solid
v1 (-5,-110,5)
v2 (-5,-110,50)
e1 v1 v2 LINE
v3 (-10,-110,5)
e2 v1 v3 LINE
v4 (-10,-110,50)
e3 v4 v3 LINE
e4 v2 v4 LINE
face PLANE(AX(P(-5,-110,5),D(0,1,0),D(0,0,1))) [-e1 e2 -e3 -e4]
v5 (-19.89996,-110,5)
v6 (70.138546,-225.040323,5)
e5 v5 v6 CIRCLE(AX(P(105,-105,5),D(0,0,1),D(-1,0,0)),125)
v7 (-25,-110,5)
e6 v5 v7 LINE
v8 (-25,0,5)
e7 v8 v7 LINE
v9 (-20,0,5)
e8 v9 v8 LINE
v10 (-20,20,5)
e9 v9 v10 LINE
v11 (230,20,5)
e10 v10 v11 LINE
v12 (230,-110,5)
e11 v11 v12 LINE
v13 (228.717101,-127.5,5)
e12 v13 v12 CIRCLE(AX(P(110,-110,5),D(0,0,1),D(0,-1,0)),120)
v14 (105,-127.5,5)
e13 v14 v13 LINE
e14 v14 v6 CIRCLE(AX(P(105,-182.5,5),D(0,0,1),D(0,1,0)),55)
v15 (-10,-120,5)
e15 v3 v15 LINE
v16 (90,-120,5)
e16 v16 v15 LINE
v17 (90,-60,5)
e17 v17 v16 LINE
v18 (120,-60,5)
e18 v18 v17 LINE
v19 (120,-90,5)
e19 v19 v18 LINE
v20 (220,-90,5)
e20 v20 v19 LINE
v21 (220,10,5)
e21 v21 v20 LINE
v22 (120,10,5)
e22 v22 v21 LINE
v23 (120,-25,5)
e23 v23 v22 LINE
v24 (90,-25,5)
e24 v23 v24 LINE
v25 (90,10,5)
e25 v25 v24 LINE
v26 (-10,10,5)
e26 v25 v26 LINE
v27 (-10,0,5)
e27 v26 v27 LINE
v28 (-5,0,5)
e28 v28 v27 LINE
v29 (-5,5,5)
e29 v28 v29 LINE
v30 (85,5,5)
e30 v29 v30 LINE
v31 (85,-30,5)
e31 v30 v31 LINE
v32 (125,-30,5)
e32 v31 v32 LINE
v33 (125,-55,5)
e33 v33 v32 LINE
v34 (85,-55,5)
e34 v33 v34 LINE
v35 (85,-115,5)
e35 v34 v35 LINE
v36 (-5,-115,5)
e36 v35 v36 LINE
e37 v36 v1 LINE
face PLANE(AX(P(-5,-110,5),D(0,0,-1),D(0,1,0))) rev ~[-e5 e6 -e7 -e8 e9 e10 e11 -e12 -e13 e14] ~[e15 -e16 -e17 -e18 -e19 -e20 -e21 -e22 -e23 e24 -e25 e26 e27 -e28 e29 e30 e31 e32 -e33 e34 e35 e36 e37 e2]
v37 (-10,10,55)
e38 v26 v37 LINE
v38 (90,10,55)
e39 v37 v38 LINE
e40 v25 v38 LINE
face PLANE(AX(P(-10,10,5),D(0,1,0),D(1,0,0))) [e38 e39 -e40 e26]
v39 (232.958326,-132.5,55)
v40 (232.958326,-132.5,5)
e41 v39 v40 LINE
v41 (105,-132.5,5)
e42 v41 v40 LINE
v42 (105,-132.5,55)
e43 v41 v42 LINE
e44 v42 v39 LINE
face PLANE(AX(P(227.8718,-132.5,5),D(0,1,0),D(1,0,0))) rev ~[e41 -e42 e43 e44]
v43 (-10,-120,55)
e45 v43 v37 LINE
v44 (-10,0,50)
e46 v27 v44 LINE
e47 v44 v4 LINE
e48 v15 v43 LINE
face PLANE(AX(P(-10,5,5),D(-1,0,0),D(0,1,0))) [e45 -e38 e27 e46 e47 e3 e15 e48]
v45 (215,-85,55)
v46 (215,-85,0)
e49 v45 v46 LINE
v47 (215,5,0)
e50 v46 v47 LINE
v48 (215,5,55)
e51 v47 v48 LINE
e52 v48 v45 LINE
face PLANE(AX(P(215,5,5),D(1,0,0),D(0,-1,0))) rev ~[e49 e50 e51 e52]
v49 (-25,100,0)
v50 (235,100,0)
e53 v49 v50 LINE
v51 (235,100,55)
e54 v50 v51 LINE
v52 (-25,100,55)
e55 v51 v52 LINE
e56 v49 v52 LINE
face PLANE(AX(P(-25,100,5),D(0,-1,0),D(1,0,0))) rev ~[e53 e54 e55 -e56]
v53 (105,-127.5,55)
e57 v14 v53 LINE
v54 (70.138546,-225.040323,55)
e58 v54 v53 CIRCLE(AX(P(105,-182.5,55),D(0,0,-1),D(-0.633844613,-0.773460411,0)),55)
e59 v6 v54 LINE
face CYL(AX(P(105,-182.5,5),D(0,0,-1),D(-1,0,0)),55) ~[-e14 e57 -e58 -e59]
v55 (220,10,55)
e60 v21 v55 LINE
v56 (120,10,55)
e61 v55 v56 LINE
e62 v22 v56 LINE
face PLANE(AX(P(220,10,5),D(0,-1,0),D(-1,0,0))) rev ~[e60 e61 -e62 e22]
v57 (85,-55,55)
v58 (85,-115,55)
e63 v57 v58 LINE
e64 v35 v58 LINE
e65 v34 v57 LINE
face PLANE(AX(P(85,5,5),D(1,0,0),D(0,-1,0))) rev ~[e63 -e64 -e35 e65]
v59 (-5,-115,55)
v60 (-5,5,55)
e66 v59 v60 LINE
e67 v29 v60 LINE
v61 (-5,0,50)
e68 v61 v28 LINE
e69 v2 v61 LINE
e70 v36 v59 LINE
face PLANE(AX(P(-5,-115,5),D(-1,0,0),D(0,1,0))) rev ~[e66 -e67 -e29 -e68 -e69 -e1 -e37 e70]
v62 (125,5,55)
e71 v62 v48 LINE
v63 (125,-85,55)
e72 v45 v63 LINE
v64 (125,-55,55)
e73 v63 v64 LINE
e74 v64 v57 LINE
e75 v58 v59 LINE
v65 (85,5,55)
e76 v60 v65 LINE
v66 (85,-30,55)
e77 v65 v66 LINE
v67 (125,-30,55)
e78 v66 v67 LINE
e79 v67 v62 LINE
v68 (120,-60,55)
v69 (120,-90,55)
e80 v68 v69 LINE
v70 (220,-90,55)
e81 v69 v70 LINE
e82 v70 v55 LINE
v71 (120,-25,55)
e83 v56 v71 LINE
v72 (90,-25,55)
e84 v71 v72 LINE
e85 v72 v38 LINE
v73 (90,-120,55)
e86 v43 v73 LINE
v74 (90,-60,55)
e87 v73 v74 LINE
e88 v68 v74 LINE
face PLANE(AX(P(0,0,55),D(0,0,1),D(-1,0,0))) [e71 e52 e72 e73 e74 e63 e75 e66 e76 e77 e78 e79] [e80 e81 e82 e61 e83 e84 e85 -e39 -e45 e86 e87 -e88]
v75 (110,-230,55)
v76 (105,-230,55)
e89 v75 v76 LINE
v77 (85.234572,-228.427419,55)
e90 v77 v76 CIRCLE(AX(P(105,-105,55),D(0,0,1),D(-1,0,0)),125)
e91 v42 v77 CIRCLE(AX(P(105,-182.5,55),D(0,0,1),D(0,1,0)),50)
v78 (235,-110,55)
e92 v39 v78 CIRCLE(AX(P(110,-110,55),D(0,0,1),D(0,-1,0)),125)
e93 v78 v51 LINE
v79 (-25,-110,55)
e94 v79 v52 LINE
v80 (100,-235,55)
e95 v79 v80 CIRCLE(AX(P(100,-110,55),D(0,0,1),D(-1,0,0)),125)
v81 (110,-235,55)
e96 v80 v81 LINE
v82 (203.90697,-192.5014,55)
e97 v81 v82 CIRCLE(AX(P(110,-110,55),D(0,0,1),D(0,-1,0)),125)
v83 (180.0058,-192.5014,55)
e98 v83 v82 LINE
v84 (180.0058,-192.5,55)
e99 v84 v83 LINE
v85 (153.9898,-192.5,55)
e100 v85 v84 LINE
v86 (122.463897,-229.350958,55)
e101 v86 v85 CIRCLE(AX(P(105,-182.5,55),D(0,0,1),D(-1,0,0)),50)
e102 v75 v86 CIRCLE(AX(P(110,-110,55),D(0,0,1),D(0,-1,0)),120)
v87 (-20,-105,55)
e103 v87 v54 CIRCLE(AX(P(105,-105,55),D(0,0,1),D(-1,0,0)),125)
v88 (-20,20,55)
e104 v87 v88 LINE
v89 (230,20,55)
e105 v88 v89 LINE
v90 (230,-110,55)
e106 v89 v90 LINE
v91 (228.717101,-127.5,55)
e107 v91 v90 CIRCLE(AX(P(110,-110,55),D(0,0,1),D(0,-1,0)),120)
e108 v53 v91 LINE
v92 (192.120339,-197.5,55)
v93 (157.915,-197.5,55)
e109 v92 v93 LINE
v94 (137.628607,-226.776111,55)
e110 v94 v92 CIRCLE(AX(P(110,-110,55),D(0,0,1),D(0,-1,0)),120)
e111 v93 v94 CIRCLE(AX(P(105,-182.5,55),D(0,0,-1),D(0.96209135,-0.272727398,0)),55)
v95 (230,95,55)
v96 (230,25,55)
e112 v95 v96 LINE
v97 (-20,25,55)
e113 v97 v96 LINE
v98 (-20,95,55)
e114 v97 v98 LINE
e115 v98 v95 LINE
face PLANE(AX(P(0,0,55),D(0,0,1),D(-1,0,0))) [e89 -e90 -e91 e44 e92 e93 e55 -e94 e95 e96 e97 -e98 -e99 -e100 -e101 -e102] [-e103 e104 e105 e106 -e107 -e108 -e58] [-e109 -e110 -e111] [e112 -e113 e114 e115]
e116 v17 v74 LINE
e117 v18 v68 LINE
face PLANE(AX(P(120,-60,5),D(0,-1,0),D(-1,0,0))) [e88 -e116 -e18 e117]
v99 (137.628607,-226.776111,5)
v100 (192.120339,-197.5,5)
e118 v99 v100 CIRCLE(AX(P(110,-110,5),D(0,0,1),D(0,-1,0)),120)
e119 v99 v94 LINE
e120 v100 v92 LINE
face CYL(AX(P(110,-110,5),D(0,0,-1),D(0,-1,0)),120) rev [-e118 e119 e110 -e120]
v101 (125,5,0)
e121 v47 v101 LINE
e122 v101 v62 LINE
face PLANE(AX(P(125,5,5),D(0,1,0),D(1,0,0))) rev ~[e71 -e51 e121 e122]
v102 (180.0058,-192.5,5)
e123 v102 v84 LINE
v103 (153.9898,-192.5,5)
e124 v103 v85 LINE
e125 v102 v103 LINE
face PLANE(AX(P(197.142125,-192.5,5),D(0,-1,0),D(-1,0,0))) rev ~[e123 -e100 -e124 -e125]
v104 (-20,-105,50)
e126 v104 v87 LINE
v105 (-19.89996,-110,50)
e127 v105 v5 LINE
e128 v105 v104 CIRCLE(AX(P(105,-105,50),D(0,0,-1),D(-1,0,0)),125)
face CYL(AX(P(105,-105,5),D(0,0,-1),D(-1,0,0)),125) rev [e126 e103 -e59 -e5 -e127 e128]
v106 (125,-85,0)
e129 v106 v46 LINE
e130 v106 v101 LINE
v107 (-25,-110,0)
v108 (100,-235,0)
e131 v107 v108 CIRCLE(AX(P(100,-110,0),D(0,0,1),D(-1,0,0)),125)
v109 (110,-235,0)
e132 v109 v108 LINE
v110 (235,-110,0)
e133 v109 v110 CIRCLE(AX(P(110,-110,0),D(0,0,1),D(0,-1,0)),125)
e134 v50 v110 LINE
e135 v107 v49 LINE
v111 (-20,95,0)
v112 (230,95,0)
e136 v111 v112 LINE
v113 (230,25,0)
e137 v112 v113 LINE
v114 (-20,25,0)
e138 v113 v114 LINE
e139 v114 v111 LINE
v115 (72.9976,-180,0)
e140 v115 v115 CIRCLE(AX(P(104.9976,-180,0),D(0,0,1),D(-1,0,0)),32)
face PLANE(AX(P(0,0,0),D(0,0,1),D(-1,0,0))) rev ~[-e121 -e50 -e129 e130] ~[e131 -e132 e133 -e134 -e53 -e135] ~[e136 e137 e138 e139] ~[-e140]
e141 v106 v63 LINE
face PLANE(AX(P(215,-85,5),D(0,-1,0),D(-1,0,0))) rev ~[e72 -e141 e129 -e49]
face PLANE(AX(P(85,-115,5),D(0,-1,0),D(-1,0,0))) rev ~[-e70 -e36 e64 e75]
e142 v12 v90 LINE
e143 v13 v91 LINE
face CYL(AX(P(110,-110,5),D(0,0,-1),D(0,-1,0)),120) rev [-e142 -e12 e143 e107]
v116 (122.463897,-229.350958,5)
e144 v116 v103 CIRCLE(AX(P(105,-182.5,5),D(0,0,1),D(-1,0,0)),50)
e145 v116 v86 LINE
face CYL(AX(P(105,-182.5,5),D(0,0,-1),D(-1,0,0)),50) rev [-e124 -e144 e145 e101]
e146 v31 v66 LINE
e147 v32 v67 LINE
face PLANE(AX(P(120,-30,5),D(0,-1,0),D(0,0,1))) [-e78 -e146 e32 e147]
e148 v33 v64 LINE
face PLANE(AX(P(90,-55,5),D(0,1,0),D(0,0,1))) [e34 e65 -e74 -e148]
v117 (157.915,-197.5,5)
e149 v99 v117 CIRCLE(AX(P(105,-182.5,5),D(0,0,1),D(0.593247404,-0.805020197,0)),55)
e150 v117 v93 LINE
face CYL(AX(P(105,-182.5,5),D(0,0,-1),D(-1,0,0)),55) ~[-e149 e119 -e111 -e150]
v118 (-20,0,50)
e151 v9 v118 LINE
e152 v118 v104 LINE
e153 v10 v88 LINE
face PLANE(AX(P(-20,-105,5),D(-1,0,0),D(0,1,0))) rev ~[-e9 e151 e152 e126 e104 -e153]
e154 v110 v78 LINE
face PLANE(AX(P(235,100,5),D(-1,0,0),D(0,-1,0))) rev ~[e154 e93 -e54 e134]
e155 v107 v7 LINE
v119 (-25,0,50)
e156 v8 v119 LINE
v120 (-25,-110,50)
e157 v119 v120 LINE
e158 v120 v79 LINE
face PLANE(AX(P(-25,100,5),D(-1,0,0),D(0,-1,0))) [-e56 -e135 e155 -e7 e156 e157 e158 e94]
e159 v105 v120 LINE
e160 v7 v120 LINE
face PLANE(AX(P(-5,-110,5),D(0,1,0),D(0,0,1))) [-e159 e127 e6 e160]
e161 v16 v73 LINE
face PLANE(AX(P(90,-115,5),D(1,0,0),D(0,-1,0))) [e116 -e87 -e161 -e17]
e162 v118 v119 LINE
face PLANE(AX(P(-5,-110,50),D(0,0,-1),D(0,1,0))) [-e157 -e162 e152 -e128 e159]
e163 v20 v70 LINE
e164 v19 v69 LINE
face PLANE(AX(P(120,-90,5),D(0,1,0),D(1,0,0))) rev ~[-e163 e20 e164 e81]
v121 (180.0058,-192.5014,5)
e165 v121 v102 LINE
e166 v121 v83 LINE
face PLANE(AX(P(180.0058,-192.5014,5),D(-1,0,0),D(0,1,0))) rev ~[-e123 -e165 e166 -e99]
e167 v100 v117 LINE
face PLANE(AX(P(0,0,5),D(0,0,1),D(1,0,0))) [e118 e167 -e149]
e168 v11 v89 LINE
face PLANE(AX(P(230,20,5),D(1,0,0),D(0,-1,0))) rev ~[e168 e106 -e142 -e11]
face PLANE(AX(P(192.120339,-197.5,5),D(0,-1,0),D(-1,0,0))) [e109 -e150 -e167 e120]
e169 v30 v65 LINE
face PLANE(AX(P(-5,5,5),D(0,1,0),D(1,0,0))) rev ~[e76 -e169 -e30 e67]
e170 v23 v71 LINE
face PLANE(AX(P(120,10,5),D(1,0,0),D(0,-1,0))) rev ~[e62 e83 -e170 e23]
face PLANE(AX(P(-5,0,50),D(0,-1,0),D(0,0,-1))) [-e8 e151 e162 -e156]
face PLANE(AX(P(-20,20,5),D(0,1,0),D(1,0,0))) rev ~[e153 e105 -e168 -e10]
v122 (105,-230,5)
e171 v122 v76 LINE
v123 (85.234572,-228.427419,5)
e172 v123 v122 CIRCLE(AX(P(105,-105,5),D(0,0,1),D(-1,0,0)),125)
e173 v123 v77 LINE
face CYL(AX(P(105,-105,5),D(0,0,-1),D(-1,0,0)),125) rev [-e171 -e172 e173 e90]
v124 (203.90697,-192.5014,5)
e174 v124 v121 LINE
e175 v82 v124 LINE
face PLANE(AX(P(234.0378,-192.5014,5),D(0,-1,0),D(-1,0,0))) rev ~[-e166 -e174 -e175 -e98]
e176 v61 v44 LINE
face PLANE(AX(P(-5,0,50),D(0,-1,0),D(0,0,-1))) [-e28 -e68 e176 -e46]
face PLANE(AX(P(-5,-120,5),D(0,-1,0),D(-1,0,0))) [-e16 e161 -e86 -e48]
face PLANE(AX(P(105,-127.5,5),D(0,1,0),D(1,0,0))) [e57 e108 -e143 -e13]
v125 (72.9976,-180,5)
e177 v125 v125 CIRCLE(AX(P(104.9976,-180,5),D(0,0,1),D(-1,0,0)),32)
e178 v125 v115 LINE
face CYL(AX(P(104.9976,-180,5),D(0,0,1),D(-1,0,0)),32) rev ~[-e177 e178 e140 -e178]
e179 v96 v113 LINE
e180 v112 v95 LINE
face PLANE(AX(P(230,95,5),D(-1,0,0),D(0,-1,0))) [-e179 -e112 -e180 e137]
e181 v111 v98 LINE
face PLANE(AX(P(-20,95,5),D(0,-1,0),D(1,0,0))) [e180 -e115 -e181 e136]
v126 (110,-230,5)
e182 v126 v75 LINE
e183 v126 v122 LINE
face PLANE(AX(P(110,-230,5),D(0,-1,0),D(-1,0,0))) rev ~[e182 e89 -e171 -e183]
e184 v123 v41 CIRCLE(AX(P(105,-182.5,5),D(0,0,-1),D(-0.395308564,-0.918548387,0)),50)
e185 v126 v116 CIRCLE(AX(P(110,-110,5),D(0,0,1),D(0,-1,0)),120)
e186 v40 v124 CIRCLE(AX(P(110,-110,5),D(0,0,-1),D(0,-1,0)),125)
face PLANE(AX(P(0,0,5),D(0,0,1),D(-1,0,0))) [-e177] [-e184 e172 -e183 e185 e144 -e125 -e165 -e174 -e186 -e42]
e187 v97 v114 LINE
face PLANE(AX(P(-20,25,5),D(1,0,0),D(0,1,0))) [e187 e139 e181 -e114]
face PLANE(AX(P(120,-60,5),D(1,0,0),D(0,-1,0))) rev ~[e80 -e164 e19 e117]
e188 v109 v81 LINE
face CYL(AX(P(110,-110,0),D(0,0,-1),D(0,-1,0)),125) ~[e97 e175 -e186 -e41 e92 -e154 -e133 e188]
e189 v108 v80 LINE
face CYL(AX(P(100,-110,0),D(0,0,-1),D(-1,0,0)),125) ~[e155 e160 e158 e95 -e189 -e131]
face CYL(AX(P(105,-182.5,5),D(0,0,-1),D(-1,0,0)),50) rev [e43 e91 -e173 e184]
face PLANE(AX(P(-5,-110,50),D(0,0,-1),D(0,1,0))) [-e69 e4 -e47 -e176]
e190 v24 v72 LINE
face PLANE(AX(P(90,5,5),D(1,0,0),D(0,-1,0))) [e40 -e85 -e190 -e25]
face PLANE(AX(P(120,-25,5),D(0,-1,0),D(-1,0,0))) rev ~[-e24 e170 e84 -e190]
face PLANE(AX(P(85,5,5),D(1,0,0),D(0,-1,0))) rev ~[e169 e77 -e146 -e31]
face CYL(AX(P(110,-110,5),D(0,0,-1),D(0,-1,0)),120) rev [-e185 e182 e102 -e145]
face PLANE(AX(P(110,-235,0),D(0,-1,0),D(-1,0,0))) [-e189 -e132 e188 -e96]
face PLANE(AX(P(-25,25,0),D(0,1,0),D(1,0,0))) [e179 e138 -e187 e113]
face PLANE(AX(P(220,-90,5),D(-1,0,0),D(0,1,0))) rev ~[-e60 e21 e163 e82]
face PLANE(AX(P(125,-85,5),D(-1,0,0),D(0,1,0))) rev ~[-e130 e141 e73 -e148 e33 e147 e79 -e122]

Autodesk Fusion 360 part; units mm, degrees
sketch "Sketch1" plane through (0, 0, 0) normal (0, 0, 1) x (1, 0, 0)
  line L0 (-25, 25) -> (235, 25)
  line L1 (235, 25) -> (235, -110)
  line L2 (110, -235) -> (100, -235)
  line L3 (-25, -110) -> (-25, 25)
  line L4 (-25, 25) -> (-20, 25)
  line L5 (-20, 25) -> (-20, 20)
  line L6 (-20, 20) -> (-25, 20)
  line L7 (-25, 20) -> (-25, 25)
  line L8 (235, 25) -> (230, 25)
  line L9 (230, 25) -> (230, 20)
  line L10 (230, 20) -> (235, 20)
  line L11 (235, 20) -> (235, 25)
  line L12 (-25, -235) -> (-20, -235)
  line L13 (-20, -235) -> (-20, -230)
  line L14 (-20, -230) -> (-25, -230)
  line L15 (-25, -230) -> (-25, -235)
  line L16 (235, -235) -> (230, -235)
  line L17 (230, -235) -> (230, -230)
  line L18 (230, -230) -> (235, -230)
  line L19 (235, -230) -> (235, -235)
  line L20 (-20, 20) -> (230, 20)
  line L21 (230, 20) -> (230, -110)
  line L22 (110, -230) -> (100, -230)
  line L23 (-20, -110) -> (-20, 20)
  arc A0 (-20, -110) -> (100, -230) centre (100, -110) ccw
  arc A1 (-25, -110) -> (100, -235) centre (100, -110) ccw
  arc A2 (110, -230) -> (230, -110) centre (110, -110) ccw
  arc A3 (110, -235) -> (235, -110) centre (110, -110) ccw
  dimension "d1" = 260
  dimension "d2" = 260
  dimension "d3" = 5
  dimension "d4" = 5
  dimension "d5" = 120
  dimension "d6" = 125
  dimension "d7" = 120
  dimension "d8" = 125
extrude "Extrude1" add sketch "Sketch1" along normal blind 5 contours L0 L3 L4 L5 L6 L7 | L0 L5 L9 L20 | L1 L2 L3 L6 L10 L21 L22 L23 A0 A1 A2 A3 | L0 L1 L8 L9 L10 L11 | L20 L21 L22 L23 A0 A2
sketch "Sketch2" plane through (0, 0, 5) normal (0, 0, 1) x (-1, 0, 0)
  arc A0 (25, 110) -> (-100, 235) centre (-100, 110) ccw
  line L0 (-100, 235) -> (-110, 235)
  arc A1 (-110, 235) -> (-235, 110) centre (-110, 110) ccw
  line L1 (-235, 110) -> (-235, -25)
  line L2 (-235, -25) -> (25, -25)
  line L3 (25, -25) -> (25, 110)
  line L4 (25, -25) -> (-235, -25)
  line L5 (-235, -25) -> (-235, 110)
  line L6 (-110, 235) -> (-100, 235)
  line L7 (25, 110) -> (25, -25)
  line L8 (25, -25) -> (20, -25)
  line L9 (20, -25) -> (20, -20)
  line L10 (20, -20) -> (25, -20)
  line L11 (25, -20) -> (25, -25)
  line L12 (-235, -25) -> (-230, -25)
  line L13 (-230, -25) -> (-230, -20)
  line L14 (-230, -20) -> (-235, -20)
  line L15 (-235, -20) -> (-235, -25)
  line L16 (25, 235) -> (20, 235)
  line L17 (20, 235) -> (20, 230)
  line L18 (20, 230) -> (25, 230)
  line L19 (25, 230) -> (25, 235)
  line L20 (-235, 235) -> (-230, 235)
  line L21 (-230, 235) -> (-230, 230)
  line L22 (-230, 230) -> (-235, 230)
  line L23 (-235, 230) -> (-235, 235)
  line L24 (20, -20) -> (-230, -20)
  line L25 (-230, -20) -> (-230, 110)
  line L26 (-110, 230) -> (-105, 230)
  line L27 (20, 105) -> (20, -20)
  arc A2 (20, 105) -> (-105, 230) centre (-105, 105) ccw
  arc A3 (25, 110) -> (-100, 235) centre (-100, 110) ccw
  arc A4 (-110, 230) -> (-230, 110) centre (-110, 110) ccw
  arc A5 (-110, 235) -> (-235, 110) centre (-110, 110) ccw
  dimension "d11" = 260
  dimension "d12" = 260
  dimension "d13" = 5
  dimension "d14" = 5
  dimension "d15" = 5
  dimension "d16" = 5
  dimension "d17" = 125
  dimension "d18" = 120
  dimension "d19" = 125
extrude "Extrude2" add sketch "Sketch2" along normal blind 50 contours A0 L0 A1 L1 L3 L5 L6 L7 L10 L14 L25 L26 L27 A2 A3 A4 A5 | L2 L3 L4 L7 L8 L9 L10 L11 | L2 L4 L9 L13 L24 | L1 L2 L4 L5 L12 L13 L14 L15
sketch "Sketch3" plane through (0, 0, 5) normal (0, 0, 1) x (-1, 0, 0)
  line L0 (-105, 230) -> (-110, 230)
  arc A0 (-110, 230) -> (-230, 110) centre (-110, 110) ccw
  line L1 (-230, 110) -> (-230, -20)
  line L2 (-230, -20) -> (20, -20)
  line L3 (20, -20) -> (20, 105)
  arc A1 (20, 105) -> (-105, 230) centre (-105, 105) ccw
  line L4 (-230, -20) -> (-220, -20)
  line L5 (-220, -20) -> (-220, -10)
  line L6 (-220, -10) -> (-120, -10)
  line L7 (-120, -10) -> (-120, 90)
  line L8 (-120, 90) -> (-220, 90)
  line L9 (-220, 90) -> (-220, -10)
  line L10 (20, -20) -> (20, -10)
  line L11 (20, -20) -> (10, -20)
  line L12 (20, -20) -> (10, -20)
  line L13 (10, -20) -> (10, -10)
  line L14 (10, -10) -> (20, -10)
  line L15 (20, -10) -> (20, -20)
  line L16 (10, -10) -> (-90, -10)
  line L17 (-90, -10) -> (-90, 120)
  line L18 (-90, 120) -> (10, 120)
  line L19 (10, 120) -> (10, -10)
  line L20 (-90, -10) -> (-90, 30)
  line L21 (-120, -10) -> (-120, 30)
  line L22 (-120, 30) -> (-90, 30)
  line L23 (-90, 30) -> (-90, 55)
  line L24 (-90, 55) -> (-120, 55)
  line L25 (-120, 55) -> (-120, 30)
  line L26 (10, -10) -> (5, -10)
  line L27 (5, -10) -> (5, -5)
  line L28 (5, -5) -> (10, -5)
  line L29 (10, -5) -> (10, -10)
  line L30 (-90, -10) -> (-85, -10)
  line L31 (-85, -10) -> (-85, -5)
  line L32 (-85, -5) -> (-90, -5)
  line L33 (-90, -5) -> (-90, -10)
  line L34 (10, 120) -> (5, 120)
  line L35 (5, 120) -> (5, 115)
  line L36 (5, 115) -> (10, 115)
  line L37 (10, 115) -> (10, 120)
  line L38 (-90, 120) -> (-85, 120)
  line L39 (-85, 120) -> (-85, 115)
  line L40 (-85, 115) -> (-90, 115)
  line L41 (-90, 115) -> (-90, 120)
  line L42 (5, -5) -> (-85, -5)
  line L43 (-85, -5) -> (-85, 115)
  line L44 (-85, 115) -> (5, 115)
  line L45 (5, 115) -> (5, -5)
  line L46 (-90, 30) -> (-90, 25)
  line L47 (-120, 30) -> (-120, 25)
  line L48 (-120, 25) -> (-90, 25)
  line L49 (-90, 55) -> (-90, 60)
  line L50 (-120, 55) -> (-120, 60)
  line L51 (-120, 60) -> (-90, 60)
  line L52 (-120, -10) -> (-125, -10)
  line L53 (-125, -10) -> (-125, -5)
  line L54 (-125, -5) -> (-120, -5)
  line L55 (-120, -5) -> (-120, -10)
  line L56 (-220, -10) -> (-215, -10)
  line L57 (-215, -10) -> (-215, -5)
  line L58 (-215, -5) -> (-220, -5)
  line L59 (-220, -5) -> (-220, -10)
  line L60 (-120, 90) -> (-125, 90)
  line L61 (-125, 90) -> (-125, 85)
  line L62 (-125, 85) -> (-120, 85)
  line L63 (-120, 85) -> (-120, 90)
  line L64 (-220, 90) -> (-215, 90)
  line L65 (-215, 90) -> (-215, 85)
  line L66 (-215, 85) -> (-220, 85)
  line L67 (-220, 85) -> (-220, 90)
  line L68 (-125, -5) -> (-215, -5)
  line L69 (-215, -5) -> (-215, 85)
  line L70 (-215, 85) -> (-125, 85)
  line L71 (-125, 85) -> (-125, -5)
  dimension "d22" = 10
  dimension "d23" = 10
  dimension "d24" = 100
  dimension "d25" = 100
  dimension "d26" = 10
  dimension "d27" = 10
  dimension "d28" = 100
  dimension "d29" = 130
  dimension "d30" = 40
  dimension "d31" = 30
  dimension "d32" = 25
  dimension "d33" = 5
  dimension "d34" = 5
extrude "Extrude3" add sketch "Sketch3" along normal blind 50 contours L16 L19 L26 L27 L28 L29 | L16 L27 L31 L42 | L19 L28 L36 L45 | L6 L9 L56 L57 L58 L59 | L16 L17 L20 L30 L31 L32 L33 | L18 L19 L34 L35 L36 L37 | L6 L53 L57 L68 | L9 L58 L66 L69 | L17 L20 L23 L32 L40 L43 L46 L49 | L18 L35 L39 L44 | L6 L7 L21 L52 L53 L54 L55 | L8 L9 L64 L65 L66 L67 | L17 L18 L38 L39 L40 L41 | L7 L21 L25 L47 L50 L54 L62 L71 | L8 L61 L65 L70 | L7 L17 L20 L21 L22 L46 L47 L48 | L7 L8 L60 L61 L62 L63 | L7 L17 L24 L49 L50 L51
extrude "Extrude4" cut 1 faces at (90, -38.3333, 21.6667) along direction (-1, 0, 0) blind 20
extrude "Extrude5" cut 1 faces at (120, -38.3333, 21.6667) along direction (1, 0, 0) blind 30
sketch "Sketch4" plane through (0, 0, 5) normal (0, 0, 1) x (-1, 0, 0)
  line L0 (-85, 55) -> (-125, 55)
  line L1 (-125, 55) -> (-125, 85)
  line L2 (-125, 85) -> (-215, 85)
  line L3 (-215, 85) -> (-215, -5)
  line L4 (-215, -5) -> (-125, -5)
  line L5 (-125, -5) -> (-125, 30)
  line L6 (-125, 30) -> (-85, 30)
  line L7 (-85, 30) -> (-85, -5)
  line L8 (-85, -5) -> (5, -5)
  line L9 (5, -5) -> (5, 115)
  line L10 (5, 115) -> (-85, 115)
  line L11 (-85, 115) -> (-85, 55)
  line L12 (-125, -5) -> (-215, -5)
  line L13 (-215, -5) -> (-215, 85)
  line L14 (-215, 85) -> (-125, 85)
  line L15 (-125, 85) -> (-125, -5)
extrude "Extrude6" cut sketch "Sketch4" against normal blind 30 contours L1 L2 L3 L4 L5 L12 L13 L14 L15
sketch "Sketch5" plane through (0, 0, 5) normal (0, 0, 1) x (-1, 0, 0)
  line L0 (-105, 230) -> (-110, 230)
  arc A0 (-110, 230) -> (-230, 110) centre (-110, 110) ccw
  line L1 (-230, 110) -> (-230, -20)
  line L2 (-230, -20) -> (20, -20)
  line L3 (20, -20) -> (20, 105)
  arc A1 (20, 105) -> (-105, 230) centre (-105, 105) ccw
  line L4 (-220, 90) -> (-120, 90)
  line L5 (-120, 90) -> (-120, 60)
  line L6 (-120, 60) -> (-90, 60)
  line L7 (-90, 60) -> (-90, 120)
  line L8 (-90, 120) -> (10, 120)
  line L9 (10, 120) -> (10, -10)
  line L10 (10, -10) -> (-90, -10)
  line L11 (-90, -10) -> (-90, 25)
  line L12 (-90, 25) -> (-120, 25)
  line L13 (-120, 25) -> (-120, -10)
  line L14 (-120, -10) -> (-220, -10)
  line L15 (-220, -10) -> (-220, 90)
  line L16 (25, -25) -> (-235, -25)
  line L17 (-235, -25) -> (-235, 235)
  line L18 (-235, 235) -> (25, 235)
  line L19 (25, 235) -> (25, -25)
  line L20 (25, -25) -> (20, -25)
  line L21 (20, -25) -> (20, -20)
  line L22 (20, -20) -> (25, -20)
  line L23 (25, -20) -> (25, -25)
  line L24 (-235, -25) -> (-230, -25)
  line L25 (-230, -25) -> (-230, -20)
  line L26 (-230, -20) -> (-235, -20)
  line L27 (-235, -20) -> (-235, -25)
  line L28 (25, 235) -> (20, 235)
  line L29 (20, 235) -> (20, 230)
  line L30 (20, 230) -> (25, 230)
  line L31 (25, 230) -> (25, 235)
  line L32 (-235, 235) -> (-230, 235)
  line L33 (-230, 235) -> (-230, 232.5)
  line L34 (-230, 232.5) -> (-235, 232.5)
  line L35 (-235, 232.5) -> (-235, 235)
  line L36 (20, -20) -> (-230, -20)
  line L37 (-230, -20) -> (-230, 232.5)
  line L38 (-230, 232.5) -> (20, 232.5)
  line L39 (20, 232.5) -> (20, -20)
  line L40 (20, 232.5) -> (20, 182.5)
  line L41 (-230, 232.5) -> (-230, 182.5)
  line L42 (20, 182.5) -> (-105, 182.5)
  circle A2 centre (-105, 182.5) radius 50
  line L43 (-55, 182.5) -> (-155, 182.5)
  line L44 (-155, 182.5) -> (-155, 235)
  line L45 (-155, 235) -> (-55, 235)
  line L46 (-55, 235) -> (-55, 182.5)
  line L47 (-230, 182.5) -> (-230, 142.5)
  line L48 (-105, 182.5) -> (-105, 132.5)
  line L49 (-105, 132.5) -> (-235, 132.5)
  line L50 (-230, 132.5) -> (-230, 182.5)
  line L51 (-230, 182.5) -> (-230, 192.5)
  line L52 (-230, 192.5) -> (-153.9898, 192.5)
  circle A3 centre (-105, 182.5) radius 55
  line L53 (-105, 127.5) -> (-235, 127.5)
  line L54 (-230, 192.5) -> (-230, 197.5)
  line L55 (-230, 132.5) -> (-230, 192.5)
  line L56 (20, 182.5) -> (-160, 182.5)
  line L57 (-230, 197.5) -> (-157.915, 197.5)
  dimension "d43" = 260
  dimension "d44" = 260
  dimension "d45" = 5
  dimension "d46" = 5
  dimension "d47" = 50
  dimension "d48" = 50
  dimension "d49" = 125
  dimension "d50" = 100
  dimension "d51" = 40
  dimension "d52" = 50
  dimension "d53" = 10
  dimension "d54" = 110
  dimension "d55" = 5
  dimension "d56" = 5
  dimension "d57" = 60
extrude "Extrude7" add sketch "Sketch5" along normal blind 50 contours A1 A2 L46 A3 | A0 A2 L44 L52 A3 | L42 L46 A3 L56 | L42 A2 L49 A3 L56 | L44 L52 A3 | A0 L49 A3 L53 | A0 L52 A3 L57
sketch "Sketch6" plane through (0, 0, 5) normal (0, 0, 1) x (-1, 0, 0)
  line L0 (-227.8718, 132.5) -> (-105, 132.5)
  arc A0 (-105, 132.5) -> (-85.2346, 228.4274) centre (-105, 182.5) ccw
  arc A1 (-85.2346, 228.4274) -> (-105, 230) centre (-105, 105) ccw
  line L1 (-105, 230) -> (-110, 230)
  arc A2 (-110, 230) -> (-122.4639, 229.351) centre (-110, 110) ccw
  arc A3 (-122.4639, 229.351) -> (-153.9898, 192.5) centre (-105, 182.5) ccw
  line L2 (-153.9898, 192.5) -> (-197.1421, 192.5)
  arc A4 (-197.1421, 192.5) -> (-227.8718, 132.5) centre (-110, 110) ccw
  line L3 (25.0024, -24.9997) -> (-234.9976, -24.9997)
  line L4 (-234.9976, -24.9997) -> (-234.9976, 235.0003)
  line L5 (-234.9976, 235.0003) -> (25.0024, 235.0003)
  line L6 (25.0024, 235.0003) -> (25.0024, -24.9997)
  line L7 (25.0024, -24.9997) -> (20.0024, -24.9997)
  line L8 (20.0024, -24.9997) -> (20.0024, -19.9997)
  line L9 (20.0024, -19.9997) -> (25.0024, -19.9997)
  line L10 (25.0024, -19.9997) -> (25.0024, -24.9997)
  line L11 (-234.9976, -24.9997) -> (-229.9976, -24.9997)
  line L12 (-229.9976, -24.9997) -> (-229.9976, -20)
  line L13 (-229.9976, -20) -> (-234.9976, -20)
  line L14 (-234.9976, -20) -> (-234.9976, -24.9997)
  line L15 (25.0024, 235.0003) -> (20.0024, 235.0003)
  line L16 (20.0024, 235.0003) -> (20.0024, 230)
  line L17 (20.0024, 230) -> (25.0024, 230)
  line L18 (25.0024, 230) -> (25.0024, 235.0003)
  line L19 (-234.9976, 235.0003) -> (-229.9976, 235.0003)
  line L20 (-229.9976, 235.0003) -> (-229.9976, 230)
  line L21 (-229.9976, 230) -> (-234.9976, 230)
  line L22 (-234.9976, 230) -> (-234.9976, 235.0003)
  line L23 (20.0024, -19.9997) -> (-229.9976, -19.9997)
  line L24 (-229.9976, -19.9997) -> (-229.9976, 230)
  line L25 (-229.9976, 230) -> (20.0024, 230)
  line L26 (20.0024, 230) -> (20.0024, -19.9997)
  line L27 (20.0024, 230) -> (20.0024, 180)
  line L28 (-229.9976, 230) -> (-229.9976, 180)
  line L29 (20.0024, 180) -> (-229.9976, 180)
  line L30 (20.0024, 180) -> (-104.9976, 180)
  circle A5 centre (-104.9976, 180) radius 32
  dimension "d60" = 260
  dimension "d61" = 260
  dimension "d62" = 5
  dimension "d63" = 5
  dimension "d64" = 5
  dimension "d65" = 5
  dimension "d66" = 5
  dimension "d67" = 50
  dimension "d68" = 50
  dimension "d69" = 125
  dimension "d70" = 64
extrude "Extrude8" cut sketch "Sketch6" against normal blind 30 contours L29 L30 A5 | L29 L30 A5
sketch "Sketch7" plane through (0, 0, 5) normal (0, 0, 1) x (-1, 0, 0)
  circle A0 centre (-104.9976, 180) radius 32
  line L0 (-227.8718, 132.5) -> (-105, 132.5)
  arc A1 (-105, 132.5) -> (-85.2346, 228.4274) centre (-105, 182.5) ccw
  arc A2 (-85.2346, 228.4274) -> (-105, 230) centre (-105, 105) ccw
  line L1 (-105, 230) -> (-110, 230)
  arc A3 (-110, 230) -> (-122.4639, 229.351) centre (-110, 110) ccw
  arc A4 (-122.4639, 229.351) -> (-153.9898, 192.5) centre (-105, 182.5) ccw
  line L2 (-153.9898, 192.5) -> (-197.1421, 192.5)
  arc A5 (-197.1421, 192.5) -> (-227.8718, 132.5) centre (-110, 110) ccw
  line L3 (-180.0058, 132.5) -> (-234.0378, 132.5)
  line L4 (-234.0378, 132.5) -> (-234.0378, 192.5014)
  line L5 (-234.0378, 192.5014) -> (-180.0058, 192.5014)
  line L6 (-180.0058, 192.5014) -> (-180.0058, 132.5)
extrude "Extrude9" cut sketch "Sketch7" along normal blind 60 contours L2 A5 L3 L4 L5 L6
sketch "Sketch8" plane through (0, 0, 5) normal (0, 0, 1) x (-1, 0, 0)
  line L0 (-125, 55) -> (-125, 30)
  line L1 (-125, 30) -> (-85, 30)
  line L2 (-85, 30) -> (-85, -5)
  line L3 (-85, -5) -> (5, -5)
  line L4 (5, -5) -> (5, 115)
  line L5 (5, 115) -> (-85, 115)
  line L6 (-85, 115) -> (-85, 55)
  line L7 (-85, 55) -> (-125, 55)
  line L8 (25, -25) -> (-235, -25)
  line L9 (-235, -25) -> (-235, -100)
  line L10 (-235, -100) -> (25, -100)
  line L11 (25, -100) -> (25, -25)
  line L12 (25, -100) -> (20, -100)
  line L13 (20, -100) -> (20, -95)
  line L14 (20, -95) -> (25, -95)
  line L15 (25, -95) -> (25, -100)
  line L16 (-235, -100) -> (-230, -100)
  line L17 (-230, -100) -> (-230, -95)
  line L18 (-230, -95) -> (-235, -95)
  line L19 (-235, -95) -> (-235, -100)
  line L20 (25, -25) -> (20, -25)
  line L21 (20, -25) -> (20, -20)
  line L22 (20, -20) -> (25, -20)
  line L23 (25, -20) -> (25, -25)
  line L24 (-235, -25) -> (-230, -25)
  line L25 (-230, -25) -> (-230, -20)
  line L26 (-230, -20) -> (-235, -20)
  line L27 (-235, -20) -> (-235, -25)
  line L28 (20, -95) -> (-230, -95)
  line L29 (-230, -95) -> (-230, -25)
  line L30 (-230, -25) -> (20, -25)
  line L31 (20, -25) -> (20, -95)
  dimension "d75" = 75
extrude "Extrude10" add sketch "Sketch8" along normal blind 50 contours L8 L11 L14 L20 L31 | L10 L11 L12 L13 L14 L15 | L8 L9 L18 L24 L29 | L10 L13 L17 L28 | L9 L10 L16 L17 L18 L19
extrude "Extrude11" add 1 faces at (63.3333, 98.3333, 5) along direction (0, 0, -1) blind 5
sketch "Sketch9" plane through (-5, 0, 0) normal (1, 0, 0) x (0, 1, 0)
  line L0 (-115, 5) -> (5, 5)
  line L1 (5, 5) -> (5, 55)
  line L2 (5, 55) -> (-115, 55)
  line L3 (-115, 55) -> (-115, 5)
  line L4 (5, 5) -> (-115, 5)
  line L5 (-115, 5) -> (-115, 0)
  line L6 (-115, 0) -> (5, 0)
  line L7 (5, 0) -> (5, 5)
  line L8 (0, 5) -> (-110, 5)
  line L9 (-110, 5) -> (-110, 50)
  line L10 (-110, 50) -> (0, 50)
  line L11 (0, 50) -> (0, 5)
extrude "Extrude12" cut sketch "Sketch9" against normal blind 70 contours L0 L4 L8 L9 L10 L11
